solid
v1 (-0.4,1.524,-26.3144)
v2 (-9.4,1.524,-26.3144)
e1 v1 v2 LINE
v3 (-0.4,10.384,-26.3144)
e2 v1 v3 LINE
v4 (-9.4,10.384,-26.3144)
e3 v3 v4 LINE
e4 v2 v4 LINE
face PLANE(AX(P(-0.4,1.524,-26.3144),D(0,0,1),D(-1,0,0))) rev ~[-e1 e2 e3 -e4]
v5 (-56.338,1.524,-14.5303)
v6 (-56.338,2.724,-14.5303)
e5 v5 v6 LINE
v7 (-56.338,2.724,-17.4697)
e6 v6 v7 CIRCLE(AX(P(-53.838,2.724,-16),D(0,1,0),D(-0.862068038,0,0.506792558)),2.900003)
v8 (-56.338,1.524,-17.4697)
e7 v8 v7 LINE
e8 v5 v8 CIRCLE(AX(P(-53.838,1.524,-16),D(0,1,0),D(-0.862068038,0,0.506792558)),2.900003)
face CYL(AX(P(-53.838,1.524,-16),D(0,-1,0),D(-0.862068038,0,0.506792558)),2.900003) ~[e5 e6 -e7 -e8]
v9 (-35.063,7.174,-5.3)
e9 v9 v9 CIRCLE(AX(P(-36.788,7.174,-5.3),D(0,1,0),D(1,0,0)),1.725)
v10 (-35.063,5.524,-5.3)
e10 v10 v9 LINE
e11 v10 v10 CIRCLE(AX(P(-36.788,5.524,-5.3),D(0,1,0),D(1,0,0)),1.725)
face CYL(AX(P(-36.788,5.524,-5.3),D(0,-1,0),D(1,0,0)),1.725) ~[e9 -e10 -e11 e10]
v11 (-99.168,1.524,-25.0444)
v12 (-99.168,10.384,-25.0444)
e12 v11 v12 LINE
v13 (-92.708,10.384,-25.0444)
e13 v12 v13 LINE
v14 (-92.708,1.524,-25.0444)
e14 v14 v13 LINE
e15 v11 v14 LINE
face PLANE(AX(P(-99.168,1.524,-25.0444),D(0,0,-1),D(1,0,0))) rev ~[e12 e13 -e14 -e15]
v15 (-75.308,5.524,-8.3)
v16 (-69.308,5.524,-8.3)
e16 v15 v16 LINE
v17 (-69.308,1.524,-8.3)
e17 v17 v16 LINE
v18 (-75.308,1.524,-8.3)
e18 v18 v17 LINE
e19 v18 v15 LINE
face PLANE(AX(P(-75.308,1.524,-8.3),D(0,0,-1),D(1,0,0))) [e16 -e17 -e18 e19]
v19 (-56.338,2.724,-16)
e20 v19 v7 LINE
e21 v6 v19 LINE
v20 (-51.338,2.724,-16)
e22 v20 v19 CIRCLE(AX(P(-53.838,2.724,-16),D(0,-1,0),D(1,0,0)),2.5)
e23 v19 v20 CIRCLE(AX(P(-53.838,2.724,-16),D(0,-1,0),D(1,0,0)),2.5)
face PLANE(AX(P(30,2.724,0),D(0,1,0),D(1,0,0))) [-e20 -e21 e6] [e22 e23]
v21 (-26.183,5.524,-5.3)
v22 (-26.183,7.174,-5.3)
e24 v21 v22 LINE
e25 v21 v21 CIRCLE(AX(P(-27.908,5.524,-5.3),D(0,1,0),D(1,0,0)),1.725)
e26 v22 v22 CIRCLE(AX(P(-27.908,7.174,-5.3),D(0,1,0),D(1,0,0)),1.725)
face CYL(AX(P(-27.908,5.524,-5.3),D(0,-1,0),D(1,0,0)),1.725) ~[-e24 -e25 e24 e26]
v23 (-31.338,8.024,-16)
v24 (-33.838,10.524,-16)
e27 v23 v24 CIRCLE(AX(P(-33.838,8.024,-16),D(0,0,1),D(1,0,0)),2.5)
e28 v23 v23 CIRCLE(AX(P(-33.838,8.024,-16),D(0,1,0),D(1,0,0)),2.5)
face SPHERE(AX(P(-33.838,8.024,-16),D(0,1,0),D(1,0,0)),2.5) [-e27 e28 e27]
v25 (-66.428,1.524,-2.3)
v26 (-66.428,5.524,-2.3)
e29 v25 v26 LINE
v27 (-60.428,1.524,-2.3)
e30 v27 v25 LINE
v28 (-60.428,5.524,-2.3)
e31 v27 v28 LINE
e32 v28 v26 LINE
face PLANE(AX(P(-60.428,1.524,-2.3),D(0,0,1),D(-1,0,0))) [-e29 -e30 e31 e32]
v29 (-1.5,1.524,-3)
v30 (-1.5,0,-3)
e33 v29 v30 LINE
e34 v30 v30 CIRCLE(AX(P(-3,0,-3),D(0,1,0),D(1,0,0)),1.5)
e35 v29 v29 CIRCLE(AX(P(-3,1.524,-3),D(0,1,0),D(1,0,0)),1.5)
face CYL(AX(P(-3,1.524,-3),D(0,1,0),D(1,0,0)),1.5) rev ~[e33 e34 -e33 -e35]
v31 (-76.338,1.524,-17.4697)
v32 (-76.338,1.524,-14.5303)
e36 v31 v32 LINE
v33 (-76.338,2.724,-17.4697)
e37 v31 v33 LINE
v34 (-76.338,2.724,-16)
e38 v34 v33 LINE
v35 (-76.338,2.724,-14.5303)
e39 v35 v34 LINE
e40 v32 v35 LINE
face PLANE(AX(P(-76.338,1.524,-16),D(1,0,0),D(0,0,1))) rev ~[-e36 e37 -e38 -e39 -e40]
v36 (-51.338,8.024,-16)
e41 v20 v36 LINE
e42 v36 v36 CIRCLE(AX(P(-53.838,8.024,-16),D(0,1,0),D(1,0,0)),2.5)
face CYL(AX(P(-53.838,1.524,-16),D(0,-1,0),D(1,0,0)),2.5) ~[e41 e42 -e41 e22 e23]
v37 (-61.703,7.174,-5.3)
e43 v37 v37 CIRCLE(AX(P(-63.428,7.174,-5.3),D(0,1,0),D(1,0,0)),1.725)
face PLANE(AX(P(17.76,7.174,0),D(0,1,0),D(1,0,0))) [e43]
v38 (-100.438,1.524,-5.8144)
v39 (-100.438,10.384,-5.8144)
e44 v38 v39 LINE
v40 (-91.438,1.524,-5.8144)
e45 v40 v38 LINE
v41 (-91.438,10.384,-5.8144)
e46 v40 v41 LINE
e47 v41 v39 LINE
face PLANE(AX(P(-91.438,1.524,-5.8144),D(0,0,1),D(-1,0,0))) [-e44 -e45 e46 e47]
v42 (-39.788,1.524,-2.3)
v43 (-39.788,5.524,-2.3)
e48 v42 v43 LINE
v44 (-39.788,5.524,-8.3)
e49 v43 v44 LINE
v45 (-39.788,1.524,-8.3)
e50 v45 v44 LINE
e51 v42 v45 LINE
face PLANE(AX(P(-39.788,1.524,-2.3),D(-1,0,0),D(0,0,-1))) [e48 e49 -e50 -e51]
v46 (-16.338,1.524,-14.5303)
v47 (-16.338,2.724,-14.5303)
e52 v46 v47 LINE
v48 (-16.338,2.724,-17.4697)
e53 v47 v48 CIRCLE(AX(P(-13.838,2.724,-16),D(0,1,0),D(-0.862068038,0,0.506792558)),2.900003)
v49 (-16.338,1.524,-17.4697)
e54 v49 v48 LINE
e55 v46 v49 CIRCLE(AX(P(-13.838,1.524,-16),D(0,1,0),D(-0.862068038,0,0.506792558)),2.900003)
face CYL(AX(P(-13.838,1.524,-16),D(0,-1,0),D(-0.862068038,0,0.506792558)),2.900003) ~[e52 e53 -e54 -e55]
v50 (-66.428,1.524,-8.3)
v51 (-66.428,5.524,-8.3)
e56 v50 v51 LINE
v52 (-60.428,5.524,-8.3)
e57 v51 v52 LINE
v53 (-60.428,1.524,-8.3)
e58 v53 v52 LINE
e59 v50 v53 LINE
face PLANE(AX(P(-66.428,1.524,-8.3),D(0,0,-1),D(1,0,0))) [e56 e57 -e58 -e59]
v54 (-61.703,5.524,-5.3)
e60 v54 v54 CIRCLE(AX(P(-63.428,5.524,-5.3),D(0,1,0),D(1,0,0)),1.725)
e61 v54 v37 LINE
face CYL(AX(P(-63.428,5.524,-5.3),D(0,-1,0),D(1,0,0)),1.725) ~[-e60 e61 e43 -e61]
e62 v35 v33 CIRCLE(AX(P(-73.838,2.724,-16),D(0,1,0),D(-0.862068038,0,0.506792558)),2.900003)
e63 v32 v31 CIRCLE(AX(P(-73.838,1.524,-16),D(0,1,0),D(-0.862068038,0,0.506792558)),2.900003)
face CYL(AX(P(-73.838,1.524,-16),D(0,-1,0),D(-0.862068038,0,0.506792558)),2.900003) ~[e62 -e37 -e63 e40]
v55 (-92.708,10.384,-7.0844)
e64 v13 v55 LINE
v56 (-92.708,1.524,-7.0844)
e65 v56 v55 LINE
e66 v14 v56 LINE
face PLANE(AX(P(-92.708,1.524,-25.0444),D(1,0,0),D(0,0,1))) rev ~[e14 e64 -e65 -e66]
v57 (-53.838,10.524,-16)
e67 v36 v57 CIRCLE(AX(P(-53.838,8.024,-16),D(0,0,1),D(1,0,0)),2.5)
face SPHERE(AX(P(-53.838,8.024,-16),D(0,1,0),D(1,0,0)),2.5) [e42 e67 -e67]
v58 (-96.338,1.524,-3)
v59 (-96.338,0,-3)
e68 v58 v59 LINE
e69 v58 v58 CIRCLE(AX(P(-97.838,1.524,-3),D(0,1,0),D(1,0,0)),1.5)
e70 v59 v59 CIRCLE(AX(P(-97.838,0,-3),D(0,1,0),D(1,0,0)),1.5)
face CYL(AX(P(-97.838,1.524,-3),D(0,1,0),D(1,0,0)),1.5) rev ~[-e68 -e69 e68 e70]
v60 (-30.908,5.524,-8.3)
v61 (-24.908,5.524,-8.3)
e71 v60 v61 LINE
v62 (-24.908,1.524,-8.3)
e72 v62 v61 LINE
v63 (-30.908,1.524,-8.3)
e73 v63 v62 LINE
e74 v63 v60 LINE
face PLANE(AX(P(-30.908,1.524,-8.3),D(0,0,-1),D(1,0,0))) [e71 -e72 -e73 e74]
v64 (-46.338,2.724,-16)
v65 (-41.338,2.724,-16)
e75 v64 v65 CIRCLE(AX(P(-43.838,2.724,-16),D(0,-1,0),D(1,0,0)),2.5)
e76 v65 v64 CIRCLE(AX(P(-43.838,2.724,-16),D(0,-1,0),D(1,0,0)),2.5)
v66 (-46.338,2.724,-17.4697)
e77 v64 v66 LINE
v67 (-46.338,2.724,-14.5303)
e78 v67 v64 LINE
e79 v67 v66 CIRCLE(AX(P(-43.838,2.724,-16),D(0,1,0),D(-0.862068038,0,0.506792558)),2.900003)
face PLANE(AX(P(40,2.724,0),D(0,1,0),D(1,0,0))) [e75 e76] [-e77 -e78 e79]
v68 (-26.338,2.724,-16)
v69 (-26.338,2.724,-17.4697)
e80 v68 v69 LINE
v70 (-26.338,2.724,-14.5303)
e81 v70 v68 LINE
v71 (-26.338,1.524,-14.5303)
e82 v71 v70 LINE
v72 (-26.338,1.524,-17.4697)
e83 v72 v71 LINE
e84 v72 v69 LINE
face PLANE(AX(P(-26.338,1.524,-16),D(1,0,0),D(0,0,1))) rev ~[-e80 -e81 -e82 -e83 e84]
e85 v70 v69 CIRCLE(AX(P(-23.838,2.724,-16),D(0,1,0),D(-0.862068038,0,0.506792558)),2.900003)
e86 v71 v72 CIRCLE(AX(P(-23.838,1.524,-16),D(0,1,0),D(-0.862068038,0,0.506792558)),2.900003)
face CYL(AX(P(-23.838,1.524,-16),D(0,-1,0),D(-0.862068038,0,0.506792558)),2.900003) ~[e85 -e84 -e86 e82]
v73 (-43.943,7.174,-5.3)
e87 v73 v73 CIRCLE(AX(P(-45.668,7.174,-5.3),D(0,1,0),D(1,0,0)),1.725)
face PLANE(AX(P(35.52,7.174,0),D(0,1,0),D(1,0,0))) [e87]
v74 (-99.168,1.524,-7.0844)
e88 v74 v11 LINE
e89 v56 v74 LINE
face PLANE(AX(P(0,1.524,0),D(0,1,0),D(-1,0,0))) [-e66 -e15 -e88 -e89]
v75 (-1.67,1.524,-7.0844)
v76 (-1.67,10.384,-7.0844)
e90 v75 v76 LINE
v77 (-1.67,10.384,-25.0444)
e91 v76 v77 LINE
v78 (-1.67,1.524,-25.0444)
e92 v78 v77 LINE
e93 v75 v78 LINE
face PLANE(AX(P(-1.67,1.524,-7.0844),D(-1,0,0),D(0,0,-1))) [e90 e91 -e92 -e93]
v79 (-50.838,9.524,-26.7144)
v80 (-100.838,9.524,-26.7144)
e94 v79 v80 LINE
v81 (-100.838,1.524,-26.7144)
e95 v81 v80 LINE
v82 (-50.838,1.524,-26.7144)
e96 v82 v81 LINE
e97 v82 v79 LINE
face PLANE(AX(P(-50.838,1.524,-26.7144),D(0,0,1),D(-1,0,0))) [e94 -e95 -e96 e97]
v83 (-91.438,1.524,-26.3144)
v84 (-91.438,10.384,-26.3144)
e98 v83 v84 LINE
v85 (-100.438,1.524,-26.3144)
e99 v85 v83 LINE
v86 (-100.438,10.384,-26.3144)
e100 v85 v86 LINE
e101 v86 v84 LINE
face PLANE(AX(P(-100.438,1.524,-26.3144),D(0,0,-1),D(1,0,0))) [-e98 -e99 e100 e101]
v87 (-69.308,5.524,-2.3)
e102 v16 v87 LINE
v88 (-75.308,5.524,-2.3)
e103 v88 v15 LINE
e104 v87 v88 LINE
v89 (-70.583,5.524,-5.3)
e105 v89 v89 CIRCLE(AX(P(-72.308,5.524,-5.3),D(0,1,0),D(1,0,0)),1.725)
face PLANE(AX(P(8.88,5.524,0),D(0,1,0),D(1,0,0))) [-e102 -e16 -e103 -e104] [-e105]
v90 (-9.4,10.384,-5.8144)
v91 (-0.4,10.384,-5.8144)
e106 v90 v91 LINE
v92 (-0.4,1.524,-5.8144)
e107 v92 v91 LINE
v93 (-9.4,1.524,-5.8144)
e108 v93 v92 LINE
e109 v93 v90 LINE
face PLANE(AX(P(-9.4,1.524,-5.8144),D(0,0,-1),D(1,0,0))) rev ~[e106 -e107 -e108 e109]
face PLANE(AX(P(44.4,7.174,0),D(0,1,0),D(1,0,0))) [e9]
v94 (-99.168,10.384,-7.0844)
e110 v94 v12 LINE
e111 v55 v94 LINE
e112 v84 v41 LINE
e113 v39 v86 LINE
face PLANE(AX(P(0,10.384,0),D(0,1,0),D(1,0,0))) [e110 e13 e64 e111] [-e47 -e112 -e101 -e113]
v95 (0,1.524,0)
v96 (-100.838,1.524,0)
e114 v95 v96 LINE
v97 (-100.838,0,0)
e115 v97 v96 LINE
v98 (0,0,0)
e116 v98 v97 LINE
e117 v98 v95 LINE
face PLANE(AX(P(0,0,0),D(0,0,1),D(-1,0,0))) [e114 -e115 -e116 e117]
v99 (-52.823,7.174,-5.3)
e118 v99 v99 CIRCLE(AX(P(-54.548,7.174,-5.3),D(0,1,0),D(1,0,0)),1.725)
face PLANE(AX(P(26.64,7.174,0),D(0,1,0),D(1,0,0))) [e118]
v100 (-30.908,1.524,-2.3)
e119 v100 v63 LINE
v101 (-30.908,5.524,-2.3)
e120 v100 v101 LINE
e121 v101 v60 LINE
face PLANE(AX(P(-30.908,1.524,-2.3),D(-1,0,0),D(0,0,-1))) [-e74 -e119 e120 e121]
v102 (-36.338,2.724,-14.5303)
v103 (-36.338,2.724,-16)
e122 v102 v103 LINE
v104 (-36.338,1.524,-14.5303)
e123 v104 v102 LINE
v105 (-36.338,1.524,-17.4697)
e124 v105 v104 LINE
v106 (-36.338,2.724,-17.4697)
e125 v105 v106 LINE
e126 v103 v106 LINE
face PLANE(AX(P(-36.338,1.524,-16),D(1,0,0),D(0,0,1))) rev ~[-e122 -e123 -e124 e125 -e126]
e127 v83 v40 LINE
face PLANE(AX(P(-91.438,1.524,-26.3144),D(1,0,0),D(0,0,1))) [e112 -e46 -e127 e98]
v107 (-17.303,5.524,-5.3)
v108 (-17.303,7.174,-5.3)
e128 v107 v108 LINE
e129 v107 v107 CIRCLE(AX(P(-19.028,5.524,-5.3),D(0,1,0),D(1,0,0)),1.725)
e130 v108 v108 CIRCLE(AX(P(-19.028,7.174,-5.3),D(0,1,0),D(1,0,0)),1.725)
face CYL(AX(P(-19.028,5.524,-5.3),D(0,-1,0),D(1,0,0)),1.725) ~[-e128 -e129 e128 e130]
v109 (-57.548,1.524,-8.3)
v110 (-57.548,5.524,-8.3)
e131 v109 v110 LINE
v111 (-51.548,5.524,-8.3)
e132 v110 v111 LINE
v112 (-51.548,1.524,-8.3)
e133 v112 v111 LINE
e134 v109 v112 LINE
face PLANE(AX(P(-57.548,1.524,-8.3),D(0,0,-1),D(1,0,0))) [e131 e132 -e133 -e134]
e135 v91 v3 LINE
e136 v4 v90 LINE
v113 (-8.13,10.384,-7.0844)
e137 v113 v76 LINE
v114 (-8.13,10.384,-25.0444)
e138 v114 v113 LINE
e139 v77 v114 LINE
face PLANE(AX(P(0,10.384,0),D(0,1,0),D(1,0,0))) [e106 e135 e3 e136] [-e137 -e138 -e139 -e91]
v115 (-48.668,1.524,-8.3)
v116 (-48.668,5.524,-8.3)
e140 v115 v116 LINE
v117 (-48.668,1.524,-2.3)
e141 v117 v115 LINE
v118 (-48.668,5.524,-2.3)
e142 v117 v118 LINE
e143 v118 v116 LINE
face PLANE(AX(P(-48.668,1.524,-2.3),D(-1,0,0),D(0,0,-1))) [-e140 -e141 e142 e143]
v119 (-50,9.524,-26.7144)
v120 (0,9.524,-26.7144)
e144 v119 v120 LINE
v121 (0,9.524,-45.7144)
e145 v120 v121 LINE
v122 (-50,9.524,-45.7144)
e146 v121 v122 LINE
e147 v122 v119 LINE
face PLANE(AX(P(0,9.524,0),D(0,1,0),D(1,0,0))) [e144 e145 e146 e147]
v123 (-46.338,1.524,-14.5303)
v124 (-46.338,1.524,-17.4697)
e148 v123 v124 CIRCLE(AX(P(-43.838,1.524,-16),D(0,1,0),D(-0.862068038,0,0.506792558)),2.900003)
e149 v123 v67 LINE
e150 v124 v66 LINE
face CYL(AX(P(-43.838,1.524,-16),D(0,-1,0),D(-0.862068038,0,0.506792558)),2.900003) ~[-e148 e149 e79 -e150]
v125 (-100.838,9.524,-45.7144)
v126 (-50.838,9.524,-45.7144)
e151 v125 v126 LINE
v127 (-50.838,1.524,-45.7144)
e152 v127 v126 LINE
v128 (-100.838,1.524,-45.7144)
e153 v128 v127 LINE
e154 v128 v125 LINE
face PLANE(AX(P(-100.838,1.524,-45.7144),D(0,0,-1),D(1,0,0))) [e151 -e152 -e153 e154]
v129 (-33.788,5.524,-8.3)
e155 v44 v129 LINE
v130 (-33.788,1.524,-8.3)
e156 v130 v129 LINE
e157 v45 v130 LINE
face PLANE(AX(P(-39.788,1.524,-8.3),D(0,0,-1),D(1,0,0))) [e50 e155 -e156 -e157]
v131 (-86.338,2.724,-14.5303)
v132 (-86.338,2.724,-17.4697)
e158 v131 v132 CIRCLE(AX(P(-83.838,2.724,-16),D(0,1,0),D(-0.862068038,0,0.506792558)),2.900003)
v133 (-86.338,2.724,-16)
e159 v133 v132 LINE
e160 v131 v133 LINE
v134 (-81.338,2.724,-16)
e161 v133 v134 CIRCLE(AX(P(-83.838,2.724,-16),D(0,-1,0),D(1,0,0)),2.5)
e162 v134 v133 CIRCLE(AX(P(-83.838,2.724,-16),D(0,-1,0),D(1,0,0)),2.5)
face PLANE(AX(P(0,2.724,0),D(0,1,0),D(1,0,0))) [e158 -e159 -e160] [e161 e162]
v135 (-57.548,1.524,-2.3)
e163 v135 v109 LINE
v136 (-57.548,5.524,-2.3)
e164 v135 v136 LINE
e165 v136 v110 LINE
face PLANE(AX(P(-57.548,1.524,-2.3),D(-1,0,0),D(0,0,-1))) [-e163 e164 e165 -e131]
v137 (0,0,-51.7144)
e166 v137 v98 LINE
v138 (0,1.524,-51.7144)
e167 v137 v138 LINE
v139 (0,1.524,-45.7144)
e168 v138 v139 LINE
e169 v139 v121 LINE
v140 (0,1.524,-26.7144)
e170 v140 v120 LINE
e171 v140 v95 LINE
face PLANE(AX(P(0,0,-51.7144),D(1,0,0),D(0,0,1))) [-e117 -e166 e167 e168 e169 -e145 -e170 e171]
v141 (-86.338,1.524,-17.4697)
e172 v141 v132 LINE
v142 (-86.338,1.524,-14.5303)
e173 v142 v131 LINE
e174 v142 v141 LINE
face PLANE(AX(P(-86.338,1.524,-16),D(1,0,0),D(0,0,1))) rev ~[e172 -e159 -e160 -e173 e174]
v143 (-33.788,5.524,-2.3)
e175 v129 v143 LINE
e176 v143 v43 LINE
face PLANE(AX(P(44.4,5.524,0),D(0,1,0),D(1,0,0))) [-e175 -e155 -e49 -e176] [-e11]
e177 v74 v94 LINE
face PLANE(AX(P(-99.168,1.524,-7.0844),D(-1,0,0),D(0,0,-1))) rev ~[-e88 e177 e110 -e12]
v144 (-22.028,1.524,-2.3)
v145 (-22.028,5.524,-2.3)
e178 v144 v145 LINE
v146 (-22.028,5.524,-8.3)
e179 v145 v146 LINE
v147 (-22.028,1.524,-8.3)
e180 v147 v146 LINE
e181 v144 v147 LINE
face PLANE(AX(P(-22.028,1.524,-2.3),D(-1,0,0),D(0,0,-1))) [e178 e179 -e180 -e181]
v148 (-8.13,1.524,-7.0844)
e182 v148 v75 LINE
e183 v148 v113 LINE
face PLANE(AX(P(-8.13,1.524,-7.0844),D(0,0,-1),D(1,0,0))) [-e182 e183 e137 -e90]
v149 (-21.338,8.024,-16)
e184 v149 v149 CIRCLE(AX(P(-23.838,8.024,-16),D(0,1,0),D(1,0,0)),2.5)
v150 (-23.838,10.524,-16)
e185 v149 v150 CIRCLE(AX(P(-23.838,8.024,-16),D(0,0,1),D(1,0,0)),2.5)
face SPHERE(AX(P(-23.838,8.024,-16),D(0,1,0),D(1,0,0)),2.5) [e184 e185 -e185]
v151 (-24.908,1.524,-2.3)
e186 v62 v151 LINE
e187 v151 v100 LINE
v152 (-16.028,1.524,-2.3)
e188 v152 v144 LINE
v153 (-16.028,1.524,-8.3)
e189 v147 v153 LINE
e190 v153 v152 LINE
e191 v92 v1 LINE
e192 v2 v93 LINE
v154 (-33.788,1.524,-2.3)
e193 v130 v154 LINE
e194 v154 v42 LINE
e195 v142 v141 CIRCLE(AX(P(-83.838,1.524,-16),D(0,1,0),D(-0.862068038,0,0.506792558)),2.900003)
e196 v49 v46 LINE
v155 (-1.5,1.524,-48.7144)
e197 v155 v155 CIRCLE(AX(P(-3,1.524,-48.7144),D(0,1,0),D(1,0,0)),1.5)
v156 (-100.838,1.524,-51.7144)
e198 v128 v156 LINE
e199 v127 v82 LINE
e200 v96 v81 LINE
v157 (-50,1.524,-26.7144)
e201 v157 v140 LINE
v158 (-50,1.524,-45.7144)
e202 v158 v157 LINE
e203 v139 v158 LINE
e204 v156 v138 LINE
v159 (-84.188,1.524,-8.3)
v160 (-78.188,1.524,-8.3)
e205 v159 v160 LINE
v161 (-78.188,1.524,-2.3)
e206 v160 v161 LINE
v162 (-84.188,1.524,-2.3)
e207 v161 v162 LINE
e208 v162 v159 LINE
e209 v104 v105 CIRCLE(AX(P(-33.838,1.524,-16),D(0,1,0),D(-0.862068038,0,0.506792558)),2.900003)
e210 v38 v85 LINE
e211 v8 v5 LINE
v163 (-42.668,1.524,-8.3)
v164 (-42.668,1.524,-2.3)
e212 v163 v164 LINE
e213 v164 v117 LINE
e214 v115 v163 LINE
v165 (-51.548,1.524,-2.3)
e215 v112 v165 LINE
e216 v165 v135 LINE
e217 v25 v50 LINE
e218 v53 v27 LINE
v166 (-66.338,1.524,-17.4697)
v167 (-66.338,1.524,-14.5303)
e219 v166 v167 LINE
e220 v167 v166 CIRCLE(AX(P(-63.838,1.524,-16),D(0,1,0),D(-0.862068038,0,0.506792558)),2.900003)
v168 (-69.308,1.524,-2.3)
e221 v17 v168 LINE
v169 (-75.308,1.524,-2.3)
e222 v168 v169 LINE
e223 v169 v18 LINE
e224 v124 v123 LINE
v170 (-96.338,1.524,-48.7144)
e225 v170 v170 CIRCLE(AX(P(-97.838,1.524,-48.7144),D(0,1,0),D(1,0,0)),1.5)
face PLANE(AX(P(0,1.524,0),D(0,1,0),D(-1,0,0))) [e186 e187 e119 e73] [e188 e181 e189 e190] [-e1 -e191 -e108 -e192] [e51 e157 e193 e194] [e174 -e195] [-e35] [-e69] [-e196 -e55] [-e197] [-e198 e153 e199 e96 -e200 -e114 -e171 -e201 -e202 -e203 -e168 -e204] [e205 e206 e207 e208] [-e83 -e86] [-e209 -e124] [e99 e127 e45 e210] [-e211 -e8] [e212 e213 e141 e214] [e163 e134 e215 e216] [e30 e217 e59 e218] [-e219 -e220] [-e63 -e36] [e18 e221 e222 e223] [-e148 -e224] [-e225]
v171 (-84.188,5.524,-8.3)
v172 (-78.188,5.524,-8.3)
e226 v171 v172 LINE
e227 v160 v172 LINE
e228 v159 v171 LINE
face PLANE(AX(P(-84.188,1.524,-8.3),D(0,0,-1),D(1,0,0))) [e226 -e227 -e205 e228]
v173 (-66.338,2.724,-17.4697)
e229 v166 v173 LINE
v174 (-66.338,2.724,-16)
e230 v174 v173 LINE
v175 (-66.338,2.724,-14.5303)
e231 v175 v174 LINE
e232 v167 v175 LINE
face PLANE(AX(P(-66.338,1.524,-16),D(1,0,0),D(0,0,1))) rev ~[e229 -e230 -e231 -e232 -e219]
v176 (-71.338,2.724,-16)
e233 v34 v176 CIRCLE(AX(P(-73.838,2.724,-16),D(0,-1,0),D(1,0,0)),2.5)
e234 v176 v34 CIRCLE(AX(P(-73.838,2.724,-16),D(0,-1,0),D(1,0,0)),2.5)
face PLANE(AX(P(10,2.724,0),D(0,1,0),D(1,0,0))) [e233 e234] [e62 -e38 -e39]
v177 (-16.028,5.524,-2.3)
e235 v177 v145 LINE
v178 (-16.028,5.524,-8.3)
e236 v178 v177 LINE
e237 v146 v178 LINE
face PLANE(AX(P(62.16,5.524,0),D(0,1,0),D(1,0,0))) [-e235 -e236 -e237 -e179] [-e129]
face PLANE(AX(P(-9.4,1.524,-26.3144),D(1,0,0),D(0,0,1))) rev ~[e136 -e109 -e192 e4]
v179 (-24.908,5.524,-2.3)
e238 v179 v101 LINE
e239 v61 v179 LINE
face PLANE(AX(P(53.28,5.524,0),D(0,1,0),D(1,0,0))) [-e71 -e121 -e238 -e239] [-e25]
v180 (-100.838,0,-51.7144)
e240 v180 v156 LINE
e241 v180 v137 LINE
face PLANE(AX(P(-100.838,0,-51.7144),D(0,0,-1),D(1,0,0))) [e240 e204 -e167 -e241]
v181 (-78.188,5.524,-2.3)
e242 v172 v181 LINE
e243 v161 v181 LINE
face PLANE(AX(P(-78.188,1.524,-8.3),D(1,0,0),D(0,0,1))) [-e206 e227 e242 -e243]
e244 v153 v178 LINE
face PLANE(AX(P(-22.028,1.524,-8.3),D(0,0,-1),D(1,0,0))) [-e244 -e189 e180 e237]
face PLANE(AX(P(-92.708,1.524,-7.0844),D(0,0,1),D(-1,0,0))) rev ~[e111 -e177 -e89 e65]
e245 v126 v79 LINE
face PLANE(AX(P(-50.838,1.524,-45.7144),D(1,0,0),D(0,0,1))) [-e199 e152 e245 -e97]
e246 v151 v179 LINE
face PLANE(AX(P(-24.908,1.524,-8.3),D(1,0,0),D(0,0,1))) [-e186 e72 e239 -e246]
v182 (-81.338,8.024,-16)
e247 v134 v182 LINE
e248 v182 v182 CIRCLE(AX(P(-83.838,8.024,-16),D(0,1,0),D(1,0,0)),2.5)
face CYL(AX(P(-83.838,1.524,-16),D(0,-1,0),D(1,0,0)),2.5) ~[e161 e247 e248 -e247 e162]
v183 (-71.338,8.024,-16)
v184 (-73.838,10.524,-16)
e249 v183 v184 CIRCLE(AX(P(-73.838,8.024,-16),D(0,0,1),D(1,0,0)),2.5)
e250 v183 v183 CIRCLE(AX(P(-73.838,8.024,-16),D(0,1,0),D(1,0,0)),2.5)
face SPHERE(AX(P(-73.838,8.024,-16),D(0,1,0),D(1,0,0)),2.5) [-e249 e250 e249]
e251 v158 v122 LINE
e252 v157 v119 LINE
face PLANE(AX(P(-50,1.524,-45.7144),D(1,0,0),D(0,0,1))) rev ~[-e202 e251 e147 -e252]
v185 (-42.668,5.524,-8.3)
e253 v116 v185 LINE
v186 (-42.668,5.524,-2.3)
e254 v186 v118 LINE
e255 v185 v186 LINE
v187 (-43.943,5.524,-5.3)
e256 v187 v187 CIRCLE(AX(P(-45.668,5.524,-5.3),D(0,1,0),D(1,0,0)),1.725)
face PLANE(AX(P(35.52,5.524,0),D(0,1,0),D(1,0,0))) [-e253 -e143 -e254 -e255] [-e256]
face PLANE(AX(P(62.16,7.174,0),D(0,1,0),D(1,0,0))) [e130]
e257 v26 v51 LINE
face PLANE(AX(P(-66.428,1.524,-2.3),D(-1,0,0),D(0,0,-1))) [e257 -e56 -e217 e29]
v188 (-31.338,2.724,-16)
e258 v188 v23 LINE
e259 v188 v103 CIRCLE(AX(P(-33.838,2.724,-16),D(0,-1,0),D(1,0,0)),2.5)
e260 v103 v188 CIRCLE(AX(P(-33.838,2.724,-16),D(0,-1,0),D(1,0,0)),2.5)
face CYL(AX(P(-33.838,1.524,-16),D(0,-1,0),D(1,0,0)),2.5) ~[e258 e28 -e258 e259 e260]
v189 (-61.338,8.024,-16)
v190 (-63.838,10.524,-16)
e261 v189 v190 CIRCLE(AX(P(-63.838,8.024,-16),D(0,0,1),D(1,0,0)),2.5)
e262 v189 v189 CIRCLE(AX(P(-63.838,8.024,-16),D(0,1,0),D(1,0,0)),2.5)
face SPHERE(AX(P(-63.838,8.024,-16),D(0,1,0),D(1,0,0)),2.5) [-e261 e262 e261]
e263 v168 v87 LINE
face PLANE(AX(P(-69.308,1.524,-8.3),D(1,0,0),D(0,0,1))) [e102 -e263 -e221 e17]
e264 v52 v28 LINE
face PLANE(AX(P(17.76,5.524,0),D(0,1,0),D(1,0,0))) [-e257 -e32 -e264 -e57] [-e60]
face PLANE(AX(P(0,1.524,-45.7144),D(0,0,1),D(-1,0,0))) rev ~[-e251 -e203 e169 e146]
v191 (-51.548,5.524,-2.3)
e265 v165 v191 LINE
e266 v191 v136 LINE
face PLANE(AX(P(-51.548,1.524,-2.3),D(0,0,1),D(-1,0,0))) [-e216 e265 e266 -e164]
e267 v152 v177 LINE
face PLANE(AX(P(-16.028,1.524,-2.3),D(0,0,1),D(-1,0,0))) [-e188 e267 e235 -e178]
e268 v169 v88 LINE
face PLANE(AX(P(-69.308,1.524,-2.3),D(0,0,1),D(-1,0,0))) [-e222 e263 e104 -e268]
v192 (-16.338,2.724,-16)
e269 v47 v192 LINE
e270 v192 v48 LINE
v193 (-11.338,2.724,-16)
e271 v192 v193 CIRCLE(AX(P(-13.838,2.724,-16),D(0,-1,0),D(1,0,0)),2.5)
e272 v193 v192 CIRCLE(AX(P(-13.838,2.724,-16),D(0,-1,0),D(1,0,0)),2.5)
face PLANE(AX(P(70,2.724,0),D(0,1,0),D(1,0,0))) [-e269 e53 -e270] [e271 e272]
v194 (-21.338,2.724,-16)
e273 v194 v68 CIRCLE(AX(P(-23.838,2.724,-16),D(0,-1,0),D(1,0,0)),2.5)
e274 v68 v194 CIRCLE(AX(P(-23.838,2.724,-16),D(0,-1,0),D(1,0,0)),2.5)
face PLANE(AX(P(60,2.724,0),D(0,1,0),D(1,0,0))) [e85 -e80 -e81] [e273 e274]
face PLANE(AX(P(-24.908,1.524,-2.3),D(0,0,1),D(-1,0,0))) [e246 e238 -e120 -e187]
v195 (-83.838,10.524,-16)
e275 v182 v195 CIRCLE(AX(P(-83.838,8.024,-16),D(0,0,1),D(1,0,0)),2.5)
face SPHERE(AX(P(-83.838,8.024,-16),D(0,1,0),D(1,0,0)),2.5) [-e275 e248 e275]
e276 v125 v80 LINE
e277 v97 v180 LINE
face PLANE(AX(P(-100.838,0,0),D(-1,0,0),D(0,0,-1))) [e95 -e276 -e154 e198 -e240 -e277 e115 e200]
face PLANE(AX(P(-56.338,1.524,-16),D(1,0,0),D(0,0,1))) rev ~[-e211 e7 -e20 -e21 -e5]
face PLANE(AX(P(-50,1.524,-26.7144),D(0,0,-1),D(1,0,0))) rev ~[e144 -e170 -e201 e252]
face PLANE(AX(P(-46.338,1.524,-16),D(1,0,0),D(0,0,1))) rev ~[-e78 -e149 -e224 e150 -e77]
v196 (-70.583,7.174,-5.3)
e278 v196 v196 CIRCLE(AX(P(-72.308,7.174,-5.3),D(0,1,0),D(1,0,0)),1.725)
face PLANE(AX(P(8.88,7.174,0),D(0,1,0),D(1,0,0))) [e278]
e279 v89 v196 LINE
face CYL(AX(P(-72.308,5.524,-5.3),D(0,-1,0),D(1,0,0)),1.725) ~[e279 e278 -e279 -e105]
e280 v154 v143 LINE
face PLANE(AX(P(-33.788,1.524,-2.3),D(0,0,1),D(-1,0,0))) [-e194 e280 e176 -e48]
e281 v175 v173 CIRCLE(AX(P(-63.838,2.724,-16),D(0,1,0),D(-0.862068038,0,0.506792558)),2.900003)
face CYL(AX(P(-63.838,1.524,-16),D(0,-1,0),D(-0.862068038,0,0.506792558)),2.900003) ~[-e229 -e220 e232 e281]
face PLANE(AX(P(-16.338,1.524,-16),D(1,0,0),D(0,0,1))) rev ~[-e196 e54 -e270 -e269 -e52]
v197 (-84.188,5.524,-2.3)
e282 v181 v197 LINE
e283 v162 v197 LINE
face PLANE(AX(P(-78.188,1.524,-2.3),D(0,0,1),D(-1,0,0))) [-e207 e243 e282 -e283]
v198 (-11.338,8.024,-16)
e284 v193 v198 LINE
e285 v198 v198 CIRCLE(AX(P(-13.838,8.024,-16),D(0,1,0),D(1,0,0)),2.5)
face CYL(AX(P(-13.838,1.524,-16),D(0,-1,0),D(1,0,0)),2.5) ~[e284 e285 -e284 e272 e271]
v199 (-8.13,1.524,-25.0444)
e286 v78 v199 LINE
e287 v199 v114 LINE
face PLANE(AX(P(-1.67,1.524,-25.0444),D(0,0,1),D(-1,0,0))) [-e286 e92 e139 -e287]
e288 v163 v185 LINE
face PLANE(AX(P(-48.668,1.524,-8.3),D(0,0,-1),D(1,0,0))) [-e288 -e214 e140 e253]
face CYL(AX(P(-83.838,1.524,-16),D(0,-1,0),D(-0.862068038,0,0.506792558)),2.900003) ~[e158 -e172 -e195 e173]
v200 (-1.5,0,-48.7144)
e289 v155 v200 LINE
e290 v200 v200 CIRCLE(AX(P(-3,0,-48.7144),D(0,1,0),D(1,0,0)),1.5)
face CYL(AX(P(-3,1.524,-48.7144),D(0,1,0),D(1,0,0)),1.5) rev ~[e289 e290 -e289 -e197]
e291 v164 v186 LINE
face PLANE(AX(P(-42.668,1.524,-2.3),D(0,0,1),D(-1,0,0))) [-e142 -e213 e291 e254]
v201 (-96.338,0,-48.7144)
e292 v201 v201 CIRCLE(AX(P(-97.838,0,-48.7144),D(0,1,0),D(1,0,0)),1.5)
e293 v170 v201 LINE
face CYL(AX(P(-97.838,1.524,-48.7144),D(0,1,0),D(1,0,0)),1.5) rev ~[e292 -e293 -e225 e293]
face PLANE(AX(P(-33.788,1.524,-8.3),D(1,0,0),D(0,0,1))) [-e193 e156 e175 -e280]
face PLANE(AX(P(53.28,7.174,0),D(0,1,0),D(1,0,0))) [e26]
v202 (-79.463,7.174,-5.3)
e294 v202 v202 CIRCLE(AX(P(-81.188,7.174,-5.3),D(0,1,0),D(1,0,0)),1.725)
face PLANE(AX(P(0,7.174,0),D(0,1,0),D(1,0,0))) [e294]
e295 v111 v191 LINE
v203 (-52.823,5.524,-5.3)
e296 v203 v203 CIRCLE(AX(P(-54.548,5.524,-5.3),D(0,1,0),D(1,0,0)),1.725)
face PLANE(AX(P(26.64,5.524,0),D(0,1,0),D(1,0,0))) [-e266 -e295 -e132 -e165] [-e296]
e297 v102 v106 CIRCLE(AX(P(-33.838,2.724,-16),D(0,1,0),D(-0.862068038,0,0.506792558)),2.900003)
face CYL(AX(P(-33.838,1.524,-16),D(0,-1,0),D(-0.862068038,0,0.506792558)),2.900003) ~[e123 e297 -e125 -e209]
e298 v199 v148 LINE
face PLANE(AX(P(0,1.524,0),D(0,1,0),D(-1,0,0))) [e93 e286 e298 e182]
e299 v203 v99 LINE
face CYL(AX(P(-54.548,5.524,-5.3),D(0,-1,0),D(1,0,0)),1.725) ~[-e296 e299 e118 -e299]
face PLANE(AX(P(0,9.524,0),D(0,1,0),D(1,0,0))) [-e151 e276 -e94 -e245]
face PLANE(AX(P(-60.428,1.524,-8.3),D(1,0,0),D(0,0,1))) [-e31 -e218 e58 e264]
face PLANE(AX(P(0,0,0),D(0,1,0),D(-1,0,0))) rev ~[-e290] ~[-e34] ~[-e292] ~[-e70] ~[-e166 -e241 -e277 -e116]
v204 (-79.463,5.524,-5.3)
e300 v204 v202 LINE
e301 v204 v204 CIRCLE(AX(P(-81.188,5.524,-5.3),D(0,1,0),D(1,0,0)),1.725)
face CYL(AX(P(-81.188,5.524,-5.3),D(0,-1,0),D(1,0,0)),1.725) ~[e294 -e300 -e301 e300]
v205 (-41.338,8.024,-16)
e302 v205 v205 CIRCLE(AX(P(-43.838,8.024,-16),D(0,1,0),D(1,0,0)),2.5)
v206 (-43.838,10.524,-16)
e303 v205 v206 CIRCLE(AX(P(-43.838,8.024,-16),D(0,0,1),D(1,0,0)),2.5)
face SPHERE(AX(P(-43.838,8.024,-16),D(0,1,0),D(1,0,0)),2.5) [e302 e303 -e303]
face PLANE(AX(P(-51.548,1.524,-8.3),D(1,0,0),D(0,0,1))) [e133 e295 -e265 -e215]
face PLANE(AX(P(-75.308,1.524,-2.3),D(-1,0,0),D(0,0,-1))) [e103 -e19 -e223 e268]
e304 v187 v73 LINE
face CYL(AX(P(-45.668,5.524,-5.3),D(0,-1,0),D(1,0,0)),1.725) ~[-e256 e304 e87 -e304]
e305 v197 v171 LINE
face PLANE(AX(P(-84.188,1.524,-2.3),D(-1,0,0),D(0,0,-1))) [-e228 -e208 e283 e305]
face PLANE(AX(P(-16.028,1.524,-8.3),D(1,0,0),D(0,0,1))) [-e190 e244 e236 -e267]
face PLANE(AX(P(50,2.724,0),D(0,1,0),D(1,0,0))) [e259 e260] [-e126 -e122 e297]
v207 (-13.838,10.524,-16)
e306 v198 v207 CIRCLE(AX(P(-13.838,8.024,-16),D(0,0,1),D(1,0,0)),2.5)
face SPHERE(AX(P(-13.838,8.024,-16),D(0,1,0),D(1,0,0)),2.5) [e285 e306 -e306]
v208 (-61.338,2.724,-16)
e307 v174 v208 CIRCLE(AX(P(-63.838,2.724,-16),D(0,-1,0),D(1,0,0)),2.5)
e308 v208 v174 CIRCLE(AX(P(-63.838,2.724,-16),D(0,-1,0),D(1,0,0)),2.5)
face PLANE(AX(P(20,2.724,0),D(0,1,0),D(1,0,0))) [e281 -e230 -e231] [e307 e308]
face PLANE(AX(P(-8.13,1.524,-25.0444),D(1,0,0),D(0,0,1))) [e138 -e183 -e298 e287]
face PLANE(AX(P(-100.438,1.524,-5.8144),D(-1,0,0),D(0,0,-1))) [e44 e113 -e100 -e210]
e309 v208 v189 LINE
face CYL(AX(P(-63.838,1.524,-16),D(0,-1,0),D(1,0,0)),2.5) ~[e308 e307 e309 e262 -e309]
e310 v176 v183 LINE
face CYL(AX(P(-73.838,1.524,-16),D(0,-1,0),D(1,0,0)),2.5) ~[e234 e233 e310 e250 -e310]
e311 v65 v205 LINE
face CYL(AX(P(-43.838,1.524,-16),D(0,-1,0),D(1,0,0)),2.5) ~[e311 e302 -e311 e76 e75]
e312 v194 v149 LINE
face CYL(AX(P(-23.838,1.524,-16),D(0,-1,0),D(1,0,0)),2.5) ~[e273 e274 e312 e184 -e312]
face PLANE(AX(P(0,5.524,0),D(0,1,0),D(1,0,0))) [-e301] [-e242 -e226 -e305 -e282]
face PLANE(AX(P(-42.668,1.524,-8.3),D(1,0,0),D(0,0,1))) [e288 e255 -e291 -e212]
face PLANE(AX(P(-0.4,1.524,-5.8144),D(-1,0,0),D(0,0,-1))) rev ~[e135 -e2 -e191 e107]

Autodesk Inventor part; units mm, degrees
ref_plane "YZ Plane" through (0, 0, 0) normal (1, 0, 0) x (0, 1, 0)
ref_plane "XZ Plane" through (0, 0, 0) normal (0, 1, 0) x (-1, 0, 0)
ref_plane "XY Plane" through (0, 0, 0) normal (0, 0, 1) x (1, 0, 0)
sketch "Sketch1" plane through (0, 0, 0) normal (0, 1, 0) x (-1, 0, 0)
  line L0 (0, 0) -> (100.838, 0)
  line L1 (100.838, 0) -> (100.838, -51.7144)
  line L2 (100.838, -51.7144) -> (0, -51.7144)
  line L3 (0, -51.7144) -> (0, 0)
  dimension "d0" = 51.7144
  dimension "d1" = 100.838
extrude "Extrusion1" add sketch "Sketch1" along normal blind 1.524
sketch "Sketch2" plane through (0, 1.524, 0) normal (0, 1, 0) x (1, 0, 0)
  line L0 (-100.838, 0) -> (0, 0) projected
  line L1 (0, 0) -> (0, 51.7144) projected
  line L2 (0, 51.7144) -> (-100.838, 51.7144) projected
  line L3 (-100.838, 51.7144) -> (-100.838, 0) projected
  circle A0 centre (-97.838, 48.7144) radius 1.5
  circle A1 centre (-97.838, 3) radius 1.5
  circle A2 centre (-3, 3) radius 1.5
  circle A3 centre (-3, 48.7144) radius 1.5
  dimension "d4" = 3
  dimension "d5" = 3
  dimension "d6" = 3
  dimension "d7" = 3
  dimension "d8" = 3
  dimension "d9" = 3
  dimension "d10" = 3
  dimension "d11" = 3
  dimension "d12" = 3
  dimension "d13" = 3
  dimension "d14" = 3
  dimension "d15" = 3
extrude "Extrusion2" cut sketch "Sketch2" against normal through all contours A0 | A1 | A2 | A3
sketch "Sketch3" plane through (0, 1.524, 0) normal (0, 1, 0) x (1, 0, 0)
  line L0 (0, 0) -> (0, 51.7144) projected
  line L1 (0, 51.7144) -> (-100.838, 51.7144) projected
  line L2 (-100.838, 51.7144) -> (-100.838, 0) projected
  line L3 (-100.838, 45.7144) -> (-50.838, 45.7144)
  line L4 (-50.838, 45.7144) -> (-50.838, 26.7144)
  line L5 (-50.838, 26.7144) -> (-100.838, 26.7144)
  line L6 (-100.838, 26.7144) -> (-100.838, 45.7144)
  line L7 (0, 45.7144) -> (-50, 45.7144)
  line L8 (-50, 45.7144) -> (-50, 26.7144)
  line L9 (-50, 26.7144) -> (0, 26.7144)
  line L10 (0, 26.7144) -> (0, 45.7144)
  dimension "d18" = 6
  dimension "d19" = 6
  dimension "d20" = 19
  dimension "d21" = 50
  dimension "d22" = 50
extrude "Extrusion3" add sketch "Sketch3" along normal blind 8
sketch "Sketch4" plane through (0, 1.524, 0) normal (0, 1, 0) x (1, 0, 0)
  line L0 (-100.838, 26.7144) -> (-100.838, 0) projected
  line L1 (-100.838, 0) -> (0, 0) projected
  line L2 (-84.188, 8.3) -> (-78.188, 8.3)
  line L3 (-78.188, 8.3) -> (-78.188, 2.3)
  line L4 (-78.188, 2.3) -> (-84.188, 2.3)
  line L5 (-84.188, 2.3) -> (-84.188, 8.3)
  dimension "d25" = 6
  dimension "d26" = 6
  dimension "d27" = 2.3
  dimension "d28" = 16.65
extrude "Extrusion4" add sketch "Sketch4" along normal blind 4
sketch "Sketch5" plane through (0, 5.524, 0) normal (0, 1, 0) x (1, 0, 0)
  circle A0 centre (-81.188, 5.3) radius 1.725
  point P0 (0, 0)
  dimension "d31" = 3.45
extrude "Extrusion5" add sketch "Sketch5" along normal blind 1.65
pattern_linear "Rectangular Pattern1" count 8 spacing 8.88 along (1, 0, 0) of "Extrusion4", "Extrusion5"
sketch "Sketch6" plane through (0, 1.524, 0) normal (0, 1, 0) x (1, 0, 0)
  line L0 (-100.838, 26.7144) -> (-100.838, 0) projected
  line L1 (-100.838, 0) -> (0, 0) projected
  circle A0 centre (-83.838, 16) radius 2.5
  dimension "d37" = 5
  dimension "d38" = 17
  dimension "d39" = 16
extrude "Extrusion6" add sketch "Sketch6" along normal blind 9
fillet "Fillet1" radius 2.5 1 edges at (-86.338, 10.524, -16)
sketch "Sketch7" plane through (0, 1.524, 0) normal (0, 1, 0) x (1, 0, 0)
  circle A0 centre (-83.838, 16) radius 2.5 projected
  line L0 (0, 0) -> (0, 26.7144) projected
  arc A1 (-86.338, 14.5303) -> (-86.338, 17.4697) centre (-83.838, 16) ccw
  line L1 (-86.338, 17.4697) -> (-86.338, 14.5303)
  circle A2 centre (-83.838, 16) radius 2.5 projected
  dimension "d43" = 5.8
extrude "Extrusion7" add sketch "Sketch7" along normal blind 1.2 contours A0 | L1 A1
pattern_linear "Rectangular Pattern2" count 8 spacing 10 along (1, 0, 0) of "Extrusion7", "Extrusion6", "Fillet1"
sketch "Sketch8" plane through (0, 1.524, 0) normal (0, 1, 0) x (1, 0, 0)
  line L0 (-50.838, 26.7144) -> (-100.838, 26.7144) projected
  line L1 (-100.838, 26.7144) -> (-100.838, 0) projected
  line L2 (0, 0) -> (0, 26.7144) projected
  line L3 (-100.438, 26.3144) -> (-91.438, 26.3144)
  line L4 (-91.438, 26.3144) -> (-91.438, 5.8144)
  line L5 (-91.438, 5.8144) -> (-100.438, 5.8144)
  line L6 (-100.438, 5.8144) -> (-100.438, 26.3144)
  line L7 (-99.168, 25.0444) -> (-92.708, 25.0444)
  line L8 (-92.708, 25.0444) -> (-92.708, 7.0844)
  line L9 (-92.708, 7.0844) -> (-99.168, 7.0844)
  line L10 (-99.168, 7.0844) -> (-99.168, 25.0444)
  line L11 (-0.4, 26.3144) -> (-9.4, 26.3144)
  line L12 (-9.4, 26.3144) -> (-9.4, 5.8144)
  line L13 (-9.4, 5.8144) -> (-0.4, 5.8144)
  line L14 (-0.4, 5.8144) -> (-0.4, 26.3144)
  line L15 (-1.67, 25.0444) -> (-8.13, 25.0444)
  line L16 (-8.13, 25.0444) -> (-8.13, 7.0844)
  line L17 (-8.13, 7.0844) -> (-1.67, 7.0844)
  line L18 (-1.67, 7.0844) -> (-1.67, 25.0444)
  dimension "d49" = 9
  dimension "d50" = 0.4
  dimension "d51" = 0.4
  dimension "d52" = 20.5
  dimension "d53" = 1.27
  dimension "d54" = 1.27
  dimension "d55" = 1.27
  dimension "d56" = 1.27
  dimension "d57" = 1.27
  dimension "d58" = 0.4
  dimension "d59" = 9
  dimension "d60" = 1.27
extrude "Extrusion8" add sketch "Sketch8" along normal blind 8.86
properties part number "tm1638module"
